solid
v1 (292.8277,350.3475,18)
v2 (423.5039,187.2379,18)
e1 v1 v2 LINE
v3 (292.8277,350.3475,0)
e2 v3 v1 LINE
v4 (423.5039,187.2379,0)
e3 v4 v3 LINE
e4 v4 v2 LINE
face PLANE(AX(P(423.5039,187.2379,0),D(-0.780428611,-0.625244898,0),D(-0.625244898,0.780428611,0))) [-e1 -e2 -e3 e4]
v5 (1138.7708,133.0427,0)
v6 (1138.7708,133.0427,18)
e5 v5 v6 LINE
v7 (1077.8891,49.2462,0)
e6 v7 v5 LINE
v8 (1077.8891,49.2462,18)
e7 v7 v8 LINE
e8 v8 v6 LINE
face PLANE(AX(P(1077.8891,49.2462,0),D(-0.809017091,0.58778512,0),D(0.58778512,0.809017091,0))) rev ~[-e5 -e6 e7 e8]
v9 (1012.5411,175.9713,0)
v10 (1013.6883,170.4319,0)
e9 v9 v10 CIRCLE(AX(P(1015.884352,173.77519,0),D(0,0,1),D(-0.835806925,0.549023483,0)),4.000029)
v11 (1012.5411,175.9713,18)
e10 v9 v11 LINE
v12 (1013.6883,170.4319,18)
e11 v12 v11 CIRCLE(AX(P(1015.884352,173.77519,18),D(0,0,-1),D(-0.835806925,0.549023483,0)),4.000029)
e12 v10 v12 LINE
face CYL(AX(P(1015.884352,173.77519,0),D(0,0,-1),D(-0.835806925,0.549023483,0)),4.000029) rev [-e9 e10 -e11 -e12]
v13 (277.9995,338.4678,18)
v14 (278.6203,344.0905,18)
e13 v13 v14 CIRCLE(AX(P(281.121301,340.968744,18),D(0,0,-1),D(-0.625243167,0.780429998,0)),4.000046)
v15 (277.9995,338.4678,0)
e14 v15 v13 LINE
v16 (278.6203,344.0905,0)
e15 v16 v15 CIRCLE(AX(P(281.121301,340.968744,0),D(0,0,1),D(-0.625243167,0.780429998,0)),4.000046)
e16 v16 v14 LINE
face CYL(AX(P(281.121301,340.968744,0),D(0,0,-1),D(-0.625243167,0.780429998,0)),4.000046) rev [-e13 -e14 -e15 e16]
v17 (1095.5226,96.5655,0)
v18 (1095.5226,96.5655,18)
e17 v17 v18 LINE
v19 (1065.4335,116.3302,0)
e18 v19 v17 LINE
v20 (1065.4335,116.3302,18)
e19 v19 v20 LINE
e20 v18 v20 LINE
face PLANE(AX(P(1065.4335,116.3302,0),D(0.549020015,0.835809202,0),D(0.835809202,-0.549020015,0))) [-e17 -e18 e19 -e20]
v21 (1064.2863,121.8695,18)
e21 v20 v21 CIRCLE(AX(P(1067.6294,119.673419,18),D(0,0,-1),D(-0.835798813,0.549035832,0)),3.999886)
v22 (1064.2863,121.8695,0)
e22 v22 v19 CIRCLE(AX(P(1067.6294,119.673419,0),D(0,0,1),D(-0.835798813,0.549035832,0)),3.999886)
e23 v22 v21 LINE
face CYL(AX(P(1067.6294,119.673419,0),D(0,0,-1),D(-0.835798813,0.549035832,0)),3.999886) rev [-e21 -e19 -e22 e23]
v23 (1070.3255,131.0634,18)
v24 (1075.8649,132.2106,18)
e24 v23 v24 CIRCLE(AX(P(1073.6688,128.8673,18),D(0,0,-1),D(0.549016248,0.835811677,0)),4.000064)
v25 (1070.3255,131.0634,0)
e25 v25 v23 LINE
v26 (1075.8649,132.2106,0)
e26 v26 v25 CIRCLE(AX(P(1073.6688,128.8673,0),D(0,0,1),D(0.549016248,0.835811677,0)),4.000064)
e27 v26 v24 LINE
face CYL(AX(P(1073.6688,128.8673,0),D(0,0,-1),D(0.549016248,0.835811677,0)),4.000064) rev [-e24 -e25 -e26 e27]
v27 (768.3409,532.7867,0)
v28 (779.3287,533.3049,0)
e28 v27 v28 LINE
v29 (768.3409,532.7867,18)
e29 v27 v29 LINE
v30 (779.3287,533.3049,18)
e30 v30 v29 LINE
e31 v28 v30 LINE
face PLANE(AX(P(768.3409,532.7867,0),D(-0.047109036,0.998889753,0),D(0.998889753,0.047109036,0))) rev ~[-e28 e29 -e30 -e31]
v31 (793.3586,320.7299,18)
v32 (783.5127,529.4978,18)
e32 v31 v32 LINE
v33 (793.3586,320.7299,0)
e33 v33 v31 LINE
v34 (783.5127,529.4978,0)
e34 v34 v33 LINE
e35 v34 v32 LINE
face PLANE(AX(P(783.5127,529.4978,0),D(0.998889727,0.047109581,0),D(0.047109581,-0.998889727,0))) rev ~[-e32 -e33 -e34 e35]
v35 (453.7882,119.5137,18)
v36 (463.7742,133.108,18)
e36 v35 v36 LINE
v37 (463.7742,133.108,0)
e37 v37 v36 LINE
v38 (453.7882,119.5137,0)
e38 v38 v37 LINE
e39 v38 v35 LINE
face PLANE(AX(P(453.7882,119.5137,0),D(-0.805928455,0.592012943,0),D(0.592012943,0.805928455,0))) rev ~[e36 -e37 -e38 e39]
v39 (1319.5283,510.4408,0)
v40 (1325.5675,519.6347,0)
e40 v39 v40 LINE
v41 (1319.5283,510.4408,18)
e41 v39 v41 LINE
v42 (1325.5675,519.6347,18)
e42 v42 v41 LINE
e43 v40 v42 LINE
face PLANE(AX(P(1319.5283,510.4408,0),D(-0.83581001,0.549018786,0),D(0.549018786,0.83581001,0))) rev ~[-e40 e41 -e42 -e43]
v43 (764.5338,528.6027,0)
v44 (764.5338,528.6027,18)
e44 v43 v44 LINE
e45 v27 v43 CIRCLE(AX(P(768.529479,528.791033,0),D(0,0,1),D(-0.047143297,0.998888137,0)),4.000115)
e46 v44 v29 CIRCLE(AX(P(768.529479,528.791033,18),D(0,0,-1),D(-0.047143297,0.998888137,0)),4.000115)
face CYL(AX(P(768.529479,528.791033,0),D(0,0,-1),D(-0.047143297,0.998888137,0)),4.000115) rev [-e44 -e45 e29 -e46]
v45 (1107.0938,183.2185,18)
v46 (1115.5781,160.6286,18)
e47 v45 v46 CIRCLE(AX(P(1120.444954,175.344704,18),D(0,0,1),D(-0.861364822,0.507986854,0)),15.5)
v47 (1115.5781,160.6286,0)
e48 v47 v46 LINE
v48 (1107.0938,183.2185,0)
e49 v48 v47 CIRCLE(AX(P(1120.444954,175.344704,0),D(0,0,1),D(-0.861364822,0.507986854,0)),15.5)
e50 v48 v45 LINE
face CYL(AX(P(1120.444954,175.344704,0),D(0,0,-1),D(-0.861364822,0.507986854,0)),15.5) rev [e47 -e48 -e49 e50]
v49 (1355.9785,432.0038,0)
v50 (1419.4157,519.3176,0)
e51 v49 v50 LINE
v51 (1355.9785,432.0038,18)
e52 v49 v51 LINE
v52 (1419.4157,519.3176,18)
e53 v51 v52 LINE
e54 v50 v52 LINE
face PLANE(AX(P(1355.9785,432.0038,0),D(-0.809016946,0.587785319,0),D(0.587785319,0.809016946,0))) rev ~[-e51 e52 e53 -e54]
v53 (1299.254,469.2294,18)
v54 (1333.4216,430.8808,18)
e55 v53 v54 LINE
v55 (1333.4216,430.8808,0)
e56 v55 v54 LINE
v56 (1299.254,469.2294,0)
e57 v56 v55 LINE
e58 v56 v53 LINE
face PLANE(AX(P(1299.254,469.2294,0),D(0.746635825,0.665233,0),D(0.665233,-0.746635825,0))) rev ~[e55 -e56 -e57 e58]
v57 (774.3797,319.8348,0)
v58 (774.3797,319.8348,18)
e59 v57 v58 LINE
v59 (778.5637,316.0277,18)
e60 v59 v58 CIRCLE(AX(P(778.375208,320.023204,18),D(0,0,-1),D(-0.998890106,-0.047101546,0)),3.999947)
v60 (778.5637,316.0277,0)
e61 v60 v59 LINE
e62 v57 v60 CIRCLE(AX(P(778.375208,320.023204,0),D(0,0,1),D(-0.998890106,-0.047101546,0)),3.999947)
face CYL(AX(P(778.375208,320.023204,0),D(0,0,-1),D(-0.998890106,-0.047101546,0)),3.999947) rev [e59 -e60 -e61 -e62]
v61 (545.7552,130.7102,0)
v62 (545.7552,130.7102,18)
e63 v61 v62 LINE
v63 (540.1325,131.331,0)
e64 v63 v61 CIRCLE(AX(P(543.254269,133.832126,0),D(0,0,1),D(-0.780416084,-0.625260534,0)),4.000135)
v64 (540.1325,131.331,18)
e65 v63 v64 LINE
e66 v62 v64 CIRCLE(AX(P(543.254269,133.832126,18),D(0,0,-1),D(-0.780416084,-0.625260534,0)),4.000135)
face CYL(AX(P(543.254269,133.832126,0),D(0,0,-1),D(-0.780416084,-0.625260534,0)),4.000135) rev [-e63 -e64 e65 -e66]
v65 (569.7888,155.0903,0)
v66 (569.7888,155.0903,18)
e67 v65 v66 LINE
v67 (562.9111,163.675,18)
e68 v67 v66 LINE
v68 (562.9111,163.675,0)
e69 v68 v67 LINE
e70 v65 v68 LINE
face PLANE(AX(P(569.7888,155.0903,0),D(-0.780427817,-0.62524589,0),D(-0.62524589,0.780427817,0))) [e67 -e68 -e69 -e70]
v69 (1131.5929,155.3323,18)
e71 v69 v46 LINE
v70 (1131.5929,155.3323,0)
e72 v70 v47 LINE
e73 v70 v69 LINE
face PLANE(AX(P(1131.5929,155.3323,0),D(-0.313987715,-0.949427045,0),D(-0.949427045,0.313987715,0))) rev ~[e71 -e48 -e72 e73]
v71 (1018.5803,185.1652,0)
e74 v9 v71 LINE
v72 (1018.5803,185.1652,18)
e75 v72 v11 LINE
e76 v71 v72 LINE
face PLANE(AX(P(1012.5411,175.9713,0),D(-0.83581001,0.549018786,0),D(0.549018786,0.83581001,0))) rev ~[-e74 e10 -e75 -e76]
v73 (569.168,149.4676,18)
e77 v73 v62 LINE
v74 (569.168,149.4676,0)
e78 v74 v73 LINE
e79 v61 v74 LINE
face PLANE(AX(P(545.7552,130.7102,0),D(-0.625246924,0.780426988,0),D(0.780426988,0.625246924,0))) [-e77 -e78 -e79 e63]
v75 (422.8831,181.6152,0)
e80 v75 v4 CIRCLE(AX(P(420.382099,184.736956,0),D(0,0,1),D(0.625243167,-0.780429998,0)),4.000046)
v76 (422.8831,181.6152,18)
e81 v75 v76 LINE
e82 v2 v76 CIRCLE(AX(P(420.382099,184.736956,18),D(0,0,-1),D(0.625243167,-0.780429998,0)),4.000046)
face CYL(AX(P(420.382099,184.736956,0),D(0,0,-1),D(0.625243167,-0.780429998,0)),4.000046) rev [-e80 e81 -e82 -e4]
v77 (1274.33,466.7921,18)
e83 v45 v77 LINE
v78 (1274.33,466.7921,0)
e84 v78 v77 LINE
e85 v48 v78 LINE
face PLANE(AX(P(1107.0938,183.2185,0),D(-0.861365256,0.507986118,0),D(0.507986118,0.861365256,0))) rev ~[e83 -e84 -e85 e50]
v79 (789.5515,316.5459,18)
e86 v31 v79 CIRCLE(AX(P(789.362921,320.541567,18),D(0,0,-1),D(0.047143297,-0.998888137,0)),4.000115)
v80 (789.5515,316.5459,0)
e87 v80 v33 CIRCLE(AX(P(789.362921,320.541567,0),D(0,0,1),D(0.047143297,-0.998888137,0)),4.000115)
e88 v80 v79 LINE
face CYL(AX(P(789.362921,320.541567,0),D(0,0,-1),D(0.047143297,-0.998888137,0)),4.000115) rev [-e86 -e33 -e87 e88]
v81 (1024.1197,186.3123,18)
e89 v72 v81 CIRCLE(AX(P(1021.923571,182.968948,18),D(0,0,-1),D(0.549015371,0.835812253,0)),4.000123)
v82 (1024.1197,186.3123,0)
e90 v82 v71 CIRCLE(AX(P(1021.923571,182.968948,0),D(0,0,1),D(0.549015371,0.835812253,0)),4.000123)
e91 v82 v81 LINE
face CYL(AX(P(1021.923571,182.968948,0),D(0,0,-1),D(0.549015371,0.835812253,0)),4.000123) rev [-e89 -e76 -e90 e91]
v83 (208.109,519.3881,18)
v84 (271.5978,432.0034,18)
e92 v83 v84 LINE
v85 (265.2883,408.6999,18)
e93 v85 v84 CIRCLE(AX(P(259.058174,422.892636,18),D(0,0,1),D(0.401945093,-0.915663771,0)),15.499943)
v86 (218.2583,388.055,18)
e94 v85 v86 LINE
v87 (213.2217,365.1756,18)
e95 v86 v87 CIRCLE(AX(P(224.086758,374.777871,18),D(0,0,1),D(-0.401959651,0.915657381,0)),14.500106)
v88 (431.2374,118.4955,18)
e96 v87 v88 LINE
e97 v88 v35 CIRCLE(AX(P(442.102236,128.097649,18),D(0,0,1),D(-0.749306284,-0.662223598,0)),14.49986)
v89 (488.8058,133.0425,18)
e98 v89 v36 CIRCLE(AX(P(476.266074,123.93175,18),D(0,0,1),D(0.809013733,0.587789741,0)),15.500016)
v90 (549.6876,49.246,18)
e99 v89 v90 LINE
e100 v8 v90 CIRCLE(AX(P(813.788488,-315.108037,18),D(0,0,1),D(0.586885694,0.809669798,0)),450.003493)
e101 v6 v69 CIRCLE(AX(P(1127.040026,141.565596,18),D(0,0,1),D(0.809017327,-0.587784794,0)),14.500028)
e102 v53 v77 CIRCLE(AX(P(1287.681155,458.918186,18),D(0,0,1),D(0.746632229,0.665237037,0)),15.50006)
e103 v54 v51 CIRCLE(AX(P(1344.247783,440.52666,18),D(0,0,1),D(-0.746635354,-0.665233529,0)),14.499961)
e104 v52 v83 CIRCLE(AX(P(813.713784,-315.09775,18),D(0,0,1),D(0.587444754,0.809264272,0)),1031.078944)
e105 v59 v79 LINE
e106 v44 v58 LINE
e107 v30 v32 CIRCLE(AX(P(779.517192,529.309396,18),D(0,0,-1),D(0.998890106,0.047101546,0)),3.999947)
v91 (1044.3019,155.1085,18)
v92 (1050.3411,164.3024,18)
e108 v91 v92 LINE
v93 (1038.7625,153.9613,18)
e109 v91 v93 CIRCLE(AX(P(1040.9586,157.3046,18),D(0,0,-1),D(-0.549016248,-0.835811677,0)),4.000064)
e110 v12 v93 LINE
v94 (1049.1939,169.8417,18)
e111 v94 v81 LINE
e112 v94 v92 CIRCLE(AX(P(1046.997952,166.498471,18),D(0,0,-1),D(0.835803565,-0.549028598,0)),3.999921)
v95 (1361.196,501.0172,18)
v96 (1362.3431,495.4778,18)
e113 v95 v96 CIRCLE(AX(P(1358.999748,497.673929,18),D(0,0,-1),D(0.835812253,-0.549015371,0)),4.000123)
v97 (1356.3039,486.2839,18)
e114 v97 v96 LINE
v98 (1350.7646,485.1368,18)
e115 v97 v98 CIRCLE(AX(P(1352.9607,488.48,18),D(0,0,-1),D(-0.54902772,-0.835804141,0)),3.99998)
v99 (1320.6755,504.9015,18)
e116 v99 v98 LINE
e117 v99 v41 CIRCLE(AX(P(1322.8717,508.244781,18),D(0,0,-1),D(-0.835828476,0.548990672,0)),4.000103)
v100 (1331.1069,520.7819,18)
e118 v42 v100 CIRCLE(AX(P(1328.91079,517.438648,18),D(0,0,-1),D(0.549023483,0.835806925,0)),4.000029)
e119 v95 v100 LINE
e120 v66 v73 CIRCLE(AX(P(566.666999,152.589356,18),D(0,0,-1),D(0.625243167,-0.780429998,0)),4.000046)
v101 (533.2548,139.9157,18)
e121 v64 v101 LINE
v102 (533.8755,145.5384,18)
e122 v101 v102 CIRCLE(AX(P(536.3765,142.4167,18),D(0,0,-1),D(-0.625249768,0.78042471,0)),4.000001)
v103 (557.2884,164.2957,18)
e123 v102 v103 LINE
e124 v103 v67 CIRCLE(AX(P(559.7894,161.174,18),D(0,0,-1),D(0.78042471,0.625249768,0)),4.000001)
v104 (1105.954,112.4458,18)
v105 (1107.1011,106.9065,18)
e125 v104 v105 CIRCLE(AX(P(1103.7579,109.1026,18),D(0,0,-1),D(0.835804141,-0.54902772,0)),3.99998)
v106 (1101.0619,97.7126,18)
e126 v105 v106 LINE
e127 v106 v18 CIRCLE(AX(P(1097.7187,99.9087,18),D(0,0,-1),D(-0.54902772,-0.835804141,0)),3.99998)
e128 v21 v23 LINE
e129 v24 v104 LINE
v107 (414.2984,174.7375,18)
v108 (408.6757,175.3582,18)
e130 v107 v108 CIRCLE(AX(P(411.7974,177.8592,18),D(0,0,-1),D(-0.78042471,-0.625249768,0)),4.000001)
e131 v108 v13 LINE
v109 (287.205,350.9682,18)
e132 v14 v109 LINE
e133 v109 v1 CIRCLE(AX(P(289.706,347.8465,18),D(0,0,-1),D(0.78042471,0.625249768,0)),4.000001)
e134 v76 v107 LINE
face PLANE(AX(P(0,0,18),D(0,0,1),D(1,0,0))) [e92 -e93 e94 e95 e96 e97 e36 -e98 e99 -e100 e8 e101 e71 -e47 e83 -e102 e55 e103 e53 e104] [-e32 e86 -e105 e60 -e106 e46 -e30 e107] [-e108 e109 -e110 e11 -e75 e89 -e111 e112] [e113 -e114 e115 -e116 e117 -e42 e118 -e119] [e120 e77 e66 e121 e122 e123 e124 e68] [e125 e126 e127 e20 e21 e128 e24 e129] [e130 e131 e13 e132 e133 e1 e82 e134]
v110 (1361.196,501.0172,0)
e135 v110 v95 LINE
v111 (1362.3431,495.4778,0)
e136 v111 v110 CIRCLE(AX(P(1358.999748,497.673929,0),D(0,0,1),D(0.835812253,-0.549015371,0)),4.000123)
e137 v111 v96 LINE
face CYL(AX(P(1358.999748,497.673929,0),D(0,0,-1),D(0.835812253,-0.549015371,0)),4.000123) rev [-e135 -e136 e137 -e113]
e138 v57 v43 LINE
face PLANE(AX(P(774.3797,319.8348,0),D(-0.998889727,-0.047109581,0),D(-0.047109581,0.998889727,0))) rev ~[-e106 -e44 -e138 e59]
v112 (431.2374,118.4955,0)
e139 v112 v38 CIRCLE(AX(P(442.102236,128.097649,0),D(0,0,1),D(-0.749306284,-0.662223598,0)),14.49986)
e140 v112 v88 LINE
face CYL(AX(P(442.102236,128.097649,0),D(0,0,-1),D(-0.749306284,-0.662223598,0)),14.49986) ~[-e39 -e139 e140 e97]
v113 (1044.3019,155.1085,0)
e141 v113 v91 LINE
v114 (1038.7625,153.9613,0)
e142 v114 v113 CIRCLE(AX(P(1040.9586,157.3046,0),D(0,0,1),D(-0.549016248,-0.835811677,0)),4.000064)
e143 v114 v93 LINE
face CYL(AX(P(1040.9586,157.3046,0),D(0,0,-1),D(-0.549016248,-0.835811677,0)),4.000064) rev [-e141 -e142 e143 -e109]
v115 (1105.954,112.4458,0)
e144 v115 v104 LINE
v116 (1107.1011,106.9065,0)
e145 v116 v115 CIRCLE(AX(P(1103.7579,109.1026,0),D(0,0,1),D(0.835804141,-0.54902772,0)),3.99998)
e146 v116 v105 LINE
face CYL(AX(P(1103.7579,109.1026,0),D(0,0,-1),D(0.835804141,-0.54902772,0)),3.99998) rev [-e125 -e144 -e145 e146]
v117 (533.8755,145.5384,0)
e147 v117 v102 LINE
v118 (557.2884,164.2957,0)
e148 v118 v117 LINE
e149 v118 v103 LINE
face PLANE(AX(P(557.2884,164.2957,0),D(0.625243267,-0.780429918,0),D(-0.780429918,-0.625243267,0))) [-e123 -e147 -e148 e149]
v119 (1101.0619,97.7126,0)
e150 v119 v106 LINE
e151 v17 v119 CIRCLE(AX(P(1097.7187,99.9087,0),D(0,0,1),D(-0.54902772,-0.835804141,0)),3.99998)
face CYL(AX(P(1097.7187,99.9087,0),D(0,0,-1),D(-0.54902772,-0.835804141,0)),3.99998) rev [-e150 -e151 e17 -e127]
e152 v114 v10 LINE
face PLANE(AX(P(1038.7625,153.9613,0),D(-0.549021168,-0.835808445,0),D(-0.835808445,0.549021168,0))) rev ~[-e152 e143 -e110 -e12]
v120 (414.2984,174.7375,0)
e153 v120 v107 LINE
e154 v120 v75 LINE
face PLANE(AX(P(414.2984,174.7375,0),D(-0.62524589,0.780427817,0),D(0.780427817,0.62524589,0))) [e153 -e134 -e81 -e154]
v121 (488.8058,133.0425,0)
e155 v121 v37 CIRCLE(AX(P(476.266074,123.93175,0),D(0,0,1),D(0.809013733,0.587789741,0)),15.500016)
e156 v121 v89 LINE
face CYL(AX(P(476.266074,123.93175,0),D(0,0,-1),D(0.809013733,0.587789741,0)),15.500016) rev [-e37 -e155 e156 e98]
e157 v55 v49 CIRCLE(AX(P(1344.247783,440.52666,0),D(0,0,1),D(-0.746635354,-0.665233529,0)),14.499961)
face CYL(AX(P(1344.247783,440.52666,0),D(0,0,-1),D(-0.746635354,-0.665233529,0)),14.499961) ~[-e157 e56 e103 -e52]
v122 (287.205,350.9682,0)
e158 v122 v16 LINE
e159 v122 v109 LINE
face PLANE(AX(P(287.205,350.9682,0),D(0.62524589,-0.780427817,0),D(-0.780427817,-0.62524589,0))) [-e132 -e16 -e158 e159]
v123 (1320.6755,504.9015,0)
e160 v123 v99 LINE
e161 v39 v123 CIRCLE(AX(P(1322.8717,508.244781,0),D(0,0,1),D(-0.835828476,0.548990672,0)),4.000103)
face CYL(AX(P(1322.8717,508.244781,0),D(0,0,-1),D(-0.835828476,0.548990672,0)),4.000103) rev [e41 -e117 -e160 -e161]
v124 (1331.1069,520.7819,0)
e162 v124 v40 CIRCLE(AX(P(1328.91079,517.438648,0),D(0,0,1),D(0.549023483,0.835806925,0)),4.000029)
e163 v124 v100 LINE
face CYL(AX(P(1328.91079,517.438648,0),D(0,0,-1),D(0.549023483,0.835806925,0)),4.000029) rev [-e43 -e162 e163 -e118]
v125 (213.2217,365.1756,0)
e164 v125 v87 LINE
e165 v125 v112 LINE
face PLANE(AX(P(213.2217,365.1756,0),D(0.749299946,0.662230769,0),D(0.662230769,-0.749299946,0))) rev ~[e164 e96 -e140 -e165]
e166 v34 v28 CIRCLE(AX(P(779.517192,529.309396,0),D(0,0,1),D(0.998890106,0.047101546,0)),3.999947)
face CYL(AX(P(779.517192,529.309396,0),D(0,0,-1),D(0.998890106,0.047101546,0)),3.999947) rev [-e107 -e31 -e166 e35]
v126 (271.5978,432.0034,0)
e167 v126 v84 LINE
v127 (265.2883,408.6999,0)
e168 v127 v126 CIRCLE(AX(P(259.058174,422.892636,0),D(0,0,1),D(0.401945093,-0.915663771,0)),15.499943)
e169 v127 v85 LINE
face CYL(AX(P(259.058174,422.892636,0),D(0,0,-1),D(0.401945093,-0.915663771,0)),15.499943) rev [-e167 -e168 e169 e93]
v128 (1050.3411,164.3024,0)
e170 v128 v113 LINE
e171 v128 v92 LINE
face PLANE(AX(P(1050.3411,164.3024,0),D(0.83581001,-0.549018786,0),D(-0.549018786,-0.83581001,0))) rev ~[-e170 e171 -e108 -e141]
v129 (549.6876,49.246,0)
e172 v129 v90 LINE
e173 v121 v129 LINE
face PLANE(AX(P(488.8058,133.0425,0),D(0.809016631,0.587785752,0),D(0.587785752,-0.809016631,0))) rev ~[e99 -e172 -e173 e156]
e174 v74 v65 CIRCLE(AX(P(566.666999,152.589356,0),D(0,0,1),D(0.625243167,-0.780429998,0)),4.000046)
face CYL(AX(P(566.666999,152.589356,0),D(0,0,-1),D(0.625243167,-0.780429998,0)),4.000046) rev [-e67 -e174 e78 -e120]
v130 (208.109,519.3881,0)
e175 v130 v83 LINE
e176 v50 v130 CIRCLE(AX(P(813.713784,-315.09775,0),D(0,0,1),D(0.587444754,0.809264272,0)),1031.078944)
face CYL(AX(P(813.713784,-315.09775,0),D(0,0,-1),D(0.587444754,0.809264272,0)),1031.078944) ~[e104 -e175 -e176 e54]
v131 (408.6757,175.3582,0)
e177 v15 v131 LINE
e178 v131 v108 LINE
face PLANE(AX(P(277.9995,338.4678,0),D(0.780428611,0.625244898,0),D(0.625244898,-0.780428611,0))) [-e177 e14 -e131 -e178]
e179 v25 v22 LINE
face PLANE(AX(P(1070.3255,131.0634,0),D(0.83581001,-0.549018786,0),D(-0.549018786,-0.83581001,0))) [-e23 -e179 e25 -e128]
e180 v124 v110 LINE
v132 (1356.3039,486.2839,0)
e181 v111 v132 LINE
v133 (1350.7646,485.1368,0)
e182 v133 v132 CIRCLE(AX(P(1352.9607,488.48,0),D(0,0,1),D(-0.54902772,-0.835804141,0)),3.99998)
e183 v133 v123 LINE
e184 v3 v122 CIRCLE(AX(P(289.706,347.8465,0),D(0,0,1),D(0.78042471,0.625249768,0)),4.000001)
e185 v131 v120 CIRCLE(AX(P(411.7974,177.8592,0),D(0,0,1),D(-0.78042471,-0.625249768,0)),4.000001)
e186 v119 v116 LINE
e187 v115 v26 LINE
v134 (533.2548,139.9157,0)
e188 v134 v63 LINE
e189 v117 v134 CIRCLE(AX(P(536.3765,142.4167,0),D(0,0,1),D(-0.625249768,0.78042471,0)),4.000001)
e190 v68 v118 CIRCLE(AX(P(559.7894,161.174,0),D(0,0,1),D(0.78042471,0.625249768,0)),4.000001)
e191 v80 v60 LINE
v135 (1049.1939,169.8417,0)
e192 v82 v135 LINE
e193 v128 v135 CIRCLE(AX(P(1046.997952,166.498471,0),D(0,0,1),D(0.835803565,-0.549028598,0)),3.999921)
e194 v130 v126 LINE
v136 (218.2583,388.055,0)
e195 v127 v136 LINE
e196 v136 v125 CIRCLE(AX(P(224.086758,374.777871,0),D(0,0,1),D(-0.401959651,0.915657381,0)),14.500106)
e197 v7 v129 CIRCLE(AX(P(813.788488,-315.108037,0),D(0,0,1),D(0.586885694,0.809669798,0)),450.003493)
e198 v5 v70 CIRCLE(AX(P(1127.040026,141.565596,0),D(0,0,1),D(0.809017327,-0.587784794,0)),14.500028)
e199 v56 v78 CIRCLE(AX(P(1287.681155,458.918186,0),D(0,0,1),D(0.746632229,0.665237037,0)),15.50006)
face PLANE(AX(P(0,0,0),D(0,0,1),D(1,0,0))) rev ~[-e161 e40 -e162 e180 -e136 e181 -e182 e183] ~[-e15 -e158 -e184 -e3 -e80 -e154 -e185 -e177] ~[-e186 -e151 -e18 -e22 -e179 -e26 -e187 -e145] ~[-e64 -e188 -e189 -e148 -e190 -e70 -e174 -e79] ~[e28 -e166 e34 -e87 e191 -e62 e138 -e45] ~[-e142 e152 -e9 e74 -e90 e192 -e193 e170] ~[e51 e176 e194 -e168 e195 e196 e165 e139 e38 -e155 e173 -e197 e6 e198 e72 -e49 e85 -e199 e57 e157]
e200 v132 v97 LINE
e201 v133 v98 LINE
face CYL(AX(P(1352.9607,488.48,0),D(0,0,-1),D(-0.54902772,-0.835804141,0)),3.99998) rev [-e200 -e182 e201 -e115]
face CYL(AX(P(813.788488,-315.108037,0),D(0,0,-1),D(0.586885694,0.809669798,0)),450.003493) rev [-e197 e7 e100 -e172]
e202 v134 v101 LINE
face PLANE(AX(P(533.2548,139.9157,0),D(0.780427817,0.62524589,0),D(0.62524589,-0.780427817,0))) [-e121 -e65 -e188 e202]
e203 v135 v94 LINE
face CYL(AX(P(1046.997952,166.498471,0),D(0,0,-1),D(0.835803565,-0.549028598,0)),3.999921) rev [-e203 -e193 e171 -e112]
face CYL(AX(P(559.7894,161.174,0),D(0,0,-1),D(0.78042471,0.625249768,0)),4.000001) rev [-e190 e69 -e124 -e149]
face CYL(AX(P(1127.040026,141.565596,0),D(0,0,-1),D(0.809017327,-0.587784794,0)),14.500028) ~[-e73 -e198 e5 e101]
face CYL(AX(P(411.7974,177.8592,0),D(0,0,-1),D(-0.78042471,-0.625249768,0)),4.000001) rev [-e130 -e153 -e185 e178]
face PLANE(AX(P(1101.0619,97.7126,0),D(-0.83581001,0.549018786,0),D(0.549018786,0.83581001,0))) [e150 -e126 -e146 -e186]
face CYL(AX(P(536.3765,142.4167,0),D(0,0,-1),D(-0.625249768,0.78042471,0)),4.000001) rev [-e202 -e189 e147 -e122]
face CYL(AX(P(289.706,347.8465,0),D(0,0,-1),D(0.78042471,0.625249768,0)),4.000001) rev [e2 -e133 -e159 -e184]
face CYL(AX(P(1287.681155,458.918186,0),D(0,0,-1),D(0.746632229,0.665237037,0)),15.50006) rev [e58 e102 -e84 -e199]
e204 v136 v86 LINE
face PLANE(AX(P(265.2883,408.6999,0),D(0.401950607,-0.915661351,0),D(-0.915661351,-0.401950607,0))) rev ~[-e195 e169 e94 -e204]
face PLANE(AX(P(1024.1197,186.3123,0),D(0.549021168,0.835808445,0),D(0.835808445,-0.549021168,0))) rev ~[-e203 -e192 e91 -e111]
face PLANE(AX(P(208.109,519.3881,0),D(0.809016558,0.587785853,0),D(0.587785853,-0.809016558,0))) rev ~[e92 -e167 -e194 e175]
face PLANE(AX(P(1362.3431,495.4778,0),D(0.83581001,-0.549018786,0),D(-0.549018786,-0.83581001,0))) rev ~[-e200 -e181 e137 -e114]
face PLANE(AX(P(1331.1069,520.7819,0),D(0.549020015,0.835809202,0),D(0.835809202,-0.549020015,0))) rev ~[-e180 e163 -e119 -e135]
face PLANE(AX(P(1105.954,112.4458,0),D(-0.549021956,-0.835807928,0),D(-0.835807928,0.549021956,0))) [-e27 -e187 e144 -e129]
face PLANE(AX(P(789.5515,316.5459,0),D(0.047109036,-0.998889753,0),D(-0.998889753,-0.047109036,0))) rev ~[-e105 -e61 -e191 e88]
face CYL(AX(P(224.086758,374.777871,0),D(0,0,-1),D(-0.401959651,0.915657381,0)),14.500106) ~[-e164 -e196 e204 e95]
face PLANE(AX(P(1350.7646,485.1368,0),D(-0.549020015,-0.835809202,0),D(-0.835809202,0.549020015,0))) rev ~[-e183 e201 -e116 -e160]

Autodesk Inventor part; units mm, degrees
ref_plane "YZ Plane" through (0, 0, 0) normal (1, 0, 0) x (0, 1, 0)
ref_plane "XZ Plane" through (0, 0, 0) normal (0, 1, 0) x (-1, 0, 0)
ref_plane "XY Plane" through (0, 0, 0) normal (0, 0, 1) x (1, 0, 0)
sketch "Sketch1" plane through (0, 0, 0) normal (0, 0, 1) x (1, 0, 0)
  point P0 (0, 0)
sketch "CONTOURS" plane through (0, 0, 0) normal (0, 0, 1) x (1, 0, 0)
  arc A0 (1138.7708, 133.0427) -> (1131.5929, 155.3323) centre (1127.04, 141.5656) ccw
  line L0 (1131.5929, 155.3323) -> (1115.5781, 160.6286)
  arc A1 (1107.0938, 183.2185) -> (1115.5781, 160.6286) centre (1120.445, 175.3447) ccw
  line L1 (1107.0938, 183.2185) -> (1274.33, 466.7921)
  arc A2 (1299.254, 469.2294) -> (1274.33, 466.7921) centre (1287.6812, 458.9183) ccw
  line L2 (1299.254, 469.2294) -> (1333.4216, 430.8808)
  arc A3 (1333.4216, 430.8808) -> (1355.9785, 432.0038) centre (1344.2478, 440.5267) ccw
  line L3 (1355.9785, 432.0038) -> (1419.4157, 519.3176)
  arc A4 (1419.4157, 519.3176) -> (208.109, 519.3881) centre (813.7138, -315.0977) ccw
  line L4 (208.109, 519.3881) -> (271.5978, 432.0034)
  arc A5 (265.2883, 408.6999) -> (271.5978, 432.0034) centre (259.0581, 422.8927) ccw
  line L5 (265.2883, 408.6999) -> (218.2583, 388.055)
  arc A6 (218.2583, 388.055) -> (213.2217, 365.1756) centre (224.0866, 374.778) ccw
  line L6 (213.2217, 365.1756) -> (431.2374, 118.4955)
  arc A7 (431.2374, 118.4955) -> (453.7882, 119.5137) centre (442.1023, 128.0978) ccw
  line L7 (453.7882, 119.5137) -> (463.7742, 133.108)
  arc A8 (488.8058, 133.0425) -> (463.7742, 133.108) centre (476.2661, 123.9318) ccw
  line L8 (488.8058, 133.0425) -> (549.6876, 49.246)
  arc A9 (1077.8891, 49.2462) -> (549.6876, 49.246) centre (813.7885, -315.108) ccw
  line L9 (1077.8891, 49.2462) -> (1138.7708, 133.0427)
sketch "HOLES" plane through (0, 0, 0) normal (0, 0, 1) x (1, 0, 0)
  line L0 (287.205, 350.9682) -> (278.6203, 344.0905)
  arc A0 (278.6203, 344.0905) -> (277.9995, 338.4678) centre (281.1212, 340.9688) ccw
  line L1 (277.9995, 338.4678) -> (408.6757, 175.3582)
  arc A1 (408.6757, 175.3582) -> (414.2984, 174.7375) centre (411.7974, 177.8592) ccw
  line L2 (414.2984, 174.7375) -> (422.8831, 181.6152)
  arc A2 (422.8831, 181.6152) -> (423.5039, 187.2379) centre (420.3822, 184.7369) ccw
  line L3 (423.5039, 187.2379) -> (292.8277, 350.3475)
  arc A3 (292.8277, 350.3475) -> (287.205, 350.9682) centre (289.706, 347.8465) ccw
  arc A4 (783.5127, 529.4978) -> (779.3287, 533.3049) centre (779.5172, 529.3094) ccw
  line L4 (783.5127, 529.4978) -> (793.3586, 320.7299)
  arc A5 (789.5515, 316.5459) -> (793.3586, 320.7299) centre (789.363, 320.5414) ccw
  line L5 (789.5515, 316.5459) -> (778.5637, 316.0277)
  arc A6 (774.3797, 319.8348) -> (778.5637, 316.0277) centre (778.3752, 320.0232) ccw
  line L6 (774.3797, 319.8348) -> (764.5338, 528.6027)
  arc A7 (768.3409, 532.7867) -> (764.5338, 528.6027) centre (768.5294, 528.7912) ccw
  line L7 (768.3409, 532.7867) -> (779.3287, 533.3049)
  line L8 (569.7888, 155.0903) -> (562.9111, 163.675)
  arc A8 (562.9111, 163.675) -> (557.2884, 164.2957) centre (559.7894, 161.174) ccw
  line L9 (557.2884, 164.2957) -> (533.8755, 145.5384)
  arc A9 (533.8755, 145.5384) -> (533.2548, 139.9157) centre (536.3765, 142.4167) ccw
  line L10 (533.2548, 139.9157) -> (540.1325, 131.331)
  arc A10 (540.1325, 131.331) -> (545.7552, 130.7102) centre (543.2542, 133.832) ccw
  line L11 (545.7552, 130.7102) -> (569.168, 149.4676)
  arc A11 (569.168, 149.4676) -> (569.7888, 155.0903) centre (566.6671, 152.5893) ccw
  line L12 (1012.5411, 175.9713) -> (1018.5803, 185.1652)
  arc A12 (1024.1197, 186.3123) -> (1018.5803, 185.1652) centre (1021.9236, 182.9691) ccw
  line L13 (1024.1197, 186.3123) -> (1049.1939, 169.8417)
  arc A13 (1050.3411, 164.3024) -> (1049.1939, 169.8417) centre (1046.9978, 166.4985) ccw
  line L14 (1059.1699, 932.849) -> (1052.9484, 923.7775)
  arc A14 (1047.3873, 922.7411) -> (1052.9484, 923.7775) centre (1049.6497, 926.0399) ccw
  line L15 (1047.3873, 922.7411) -> (1017.6987, 943.1026)
  arc A15 (1016.6623, 948.6637) -> (1017.6987, 943.1026) centre (1019.9611, 946.4013) ccw
  line L16 (1016.6623, 948.6637) -> (1022.8839, 957.7352)
  arc A16 (1028.445, 958.7715) -> (1022.8839, 957.7352) centre (1026.1826, 955.4728) ccw
  line L17 (1028.445, 958.7715) -> (1058.1336, 938.4101)
  arc A17 (1059.1699, 932.849) -> (1058.1336, 938.4101) centre (1055.8712, 935.1114) ccw
  arc A18 (2370.6146, 1037.7855) -> (2376.2246, 1037.059) centre (2373.7829, 1040.2273) ccw
  line L18 (2370.6146, 1037.7855) -> (2296.1408, 1134.417)
  arc A19 (2296.8672, 1140.027) -> (2296.1408, 1134.417) centre (2299.309, 1136.8588) ccw
  line L19 (2296.8672, 1140.027) -> (2305.5799, 1146.7419)
  arc A20 (2311.1899, 1146.0154) -> (2305.5799, 1146.7419) centre (2308.0217, 1143.5736) ccw
  line L20 (2311.1899, 1146.0154) -> (2385.6638, 1049.3839)
  arc A21 (2384.9373, 1043.7739) -> (2385.6638, 1049.3839) centre (2382.4955, 1046.9421) ccw
  line L21 (2384.9373, 1043.7739) -> (2376.2246, 1037.059)
  line L22 (1175.8209, 1180.7295) -> (1169.5993, 1171.658)
  arc A22 (1169.5993, 1171.658) -> (1170.6357, 1166.0969) centre (1172.898, 1169.3956) ccw
  line L23 (1170.6357, 1166.0969) -> (1200.3242, 1145.7355)
  arc A23 (1200.3242, 1145.7355) -> (1205.8854, 1146.7718) centre (1202.5866, 1149.0342) ccw
  line L24 (1205.8854, 1146.7718) -> (1212.1069, 1155.8433)
  arc A24 (1212.1069, 1155.8433) -> (1211.0706, 1161.4044) centre (1208.8082, 1158.1057) ccw
  line L25 (1211.0706, 1161.4044) -> (1181.382, 1181.7659)
  arc A25 (1181.382, 1181.7659) -> (1175.8209, 1180.7295) centre (1179.1196, 1178.4671) ccw
  line L26 (1050.3411, 164.3024) -> (1044.3019, 155.1085)
  arc A26 (1038.7625, 153.9613) -> (1044.3019, 155.1085) centre (1040.9586, 157.3046) ccw
  line L27 (1038.7625, 153.9613) -> (1013.6883, 170.4319)
  arc A27 (1012.5411, 175.9713) -> (1013.6883, 170.4319) centre (1015.8843, 173.7752) ccw
  line L28 (1101.0619, 97.7126) -> (1107.1011, 106.9065)
  arc A28 (1107.1011, 106.9065) -> (1105.954, 112.4458) centre (1103.7579, 109.1026) ccw
  line L29 (1105.954, 112.4458) -> (1075.8649, 132.2106)
  arc A29 (1075.8649, 132.2106) -> (1070.3255, 131.0634) centre (1073.6688, 128.8673) ccw
  line L30 (1070.3255, 131.0634) -> (1064.2863, 121.8695)
  arc A30 (1064.2863, 121.8695) -> (1065.4335, 116.3302) centre (1067.6295, 119.6734) ccw
  line L31 (1065.4335, 116.3302) -> (1095.5226, 96.5655)
  arc A31 (1095.5226, 96.5655) -> (1101.0619, 97.7126) centre (1097.7187, 99.9087) ccw
  line L32 (1362.3431, 495.4778) -> (1356.3039, 486.2839)
  arc A32 (1350.7646, 485.1368) -> (1356.3039, 486.2839) centre (1352.9607, 488.48) ccw
  line L33 (1350.7646, 485.1368) -> (1320.6755, 504.9015)
  arc A33 (1319.5283, 510.4408) -> (1320.6755, 504.9015) centre (1322.8716, 508.2448) ccw
  line L34 (1319.5283, 510.4408) -> (1325.5675, 519.6347)
  arc A34 (1331.1069, 520.7819) -> (1325.5675, 519.6347) centre (1328.9108, 517.4387) ccw
  line L35 (1331.1069, 520.7819) -> (1361.196, 501.0172)
  arc A35 (1362.3431, 495.4778) -> (1361.196, 501.0172) centre (1358.9999, 497.6739) ccw
  line L36 (1264.9795, 244.1751) -> (1271.0187, 253.369)
  arc A36 (1276.558, 254.5161) -> (1271.0187, 253.369) centre (1274.3619, 251.1729) ccw
  line L37 (1276.558, 254.5161) -> (1306.6471, 234.7514)
  arc A37 (1307.7943, 229.2121) -> (1306.6471, 234.7514) centre (1304.451, 231.4082) ccw
  line L38 (1307.7943, 229.2121) -> (1301.7551, 220.0182)
  arc A38 (1296.2157, 218.871) -> (1301.7551, 220.0182) centre (1298.4118, 222.2143) ccw
  line L39 (1296.2157, 218.871) -> (1266.1266, 238.6358)
  arc A39 (1264.9795, 244.1751) -> (1266.1266, 238.6358) centre (1268.3227, 241.979) ccw
  line L40 (1526.2607, 641.9403) -> (1520.2215, 632.7464)
  arc A40 (1520.2215, 632.7464) -> (1521.3686, 627.2071) centre (1523.5647, 630.5503) ccw
  line L41 (1521.3686, 627.2071) -> (1551.4577, 607.4424)
  arc A41 (1551.4577, 607.4424) -> (1556.9971, 608.5895) centre (1553.6538, 610.7856) ccw
  line L42 (1556.9971, 608.5895) -> (1563.0363, 617.7834)
  arc A42 (1563.0363, 617.7834) -> (1561.8891, 623.3227) centre (1559.6931, 619.9795) ccw
  line L43 (1561.8891, 623.3227) -> (1531.8, 643.0875)
  arc A43 (1531.8, 643.0875) -> (1526.2607, 641.9403) centre (1529.6039, 639.7442) ccw
sketch "LETTERS" plane through (0, 0, 0) normal (0, 0, 1) x (1, 0, 0)
  arc A0 (1107.5534, 367.1718) -> (1103.7785, 359.006) centre (1105.6754, 363.0845) ccw
  line L0 (1107.5534, 367.1718) -> (1115.5892, 363.4795)
  arc A1 (1112.0249, 376.8584) -> (1107.5534, 367.1718) centre (1109.7806, 372.0191) ccw
  line L1 (1120.1257, 373.1016) -> (1112.0249, 376.8584)
  line L2 (1111.8629, 355.2459) -> (1120.1257, 373.1016)
  line L3 (1103.7785, 359.006) -> (1111.8629, 355.2459)
extrude "Extrusion2" add sketch "CONTOURS" along normal blind 18
extrude "Extrusion3" cut sketch "HOLES" along normal through all contours A3 L3 A2 L2 A1 L1 A0 L0 | L4 A5 L5 A6 L6 A7 L7 A4 | A11 L11 A10 L10 A9 L9 A8 L8 | L12 A12 L13 A13 L26 A26 L27 A27 | A31 L31 A30 L30 A29 L29 A28 L28 | L32 A32 L33 A33 L34 A34 L35 A35
properties part number "Platform B2" material "Wood (Birch)"
